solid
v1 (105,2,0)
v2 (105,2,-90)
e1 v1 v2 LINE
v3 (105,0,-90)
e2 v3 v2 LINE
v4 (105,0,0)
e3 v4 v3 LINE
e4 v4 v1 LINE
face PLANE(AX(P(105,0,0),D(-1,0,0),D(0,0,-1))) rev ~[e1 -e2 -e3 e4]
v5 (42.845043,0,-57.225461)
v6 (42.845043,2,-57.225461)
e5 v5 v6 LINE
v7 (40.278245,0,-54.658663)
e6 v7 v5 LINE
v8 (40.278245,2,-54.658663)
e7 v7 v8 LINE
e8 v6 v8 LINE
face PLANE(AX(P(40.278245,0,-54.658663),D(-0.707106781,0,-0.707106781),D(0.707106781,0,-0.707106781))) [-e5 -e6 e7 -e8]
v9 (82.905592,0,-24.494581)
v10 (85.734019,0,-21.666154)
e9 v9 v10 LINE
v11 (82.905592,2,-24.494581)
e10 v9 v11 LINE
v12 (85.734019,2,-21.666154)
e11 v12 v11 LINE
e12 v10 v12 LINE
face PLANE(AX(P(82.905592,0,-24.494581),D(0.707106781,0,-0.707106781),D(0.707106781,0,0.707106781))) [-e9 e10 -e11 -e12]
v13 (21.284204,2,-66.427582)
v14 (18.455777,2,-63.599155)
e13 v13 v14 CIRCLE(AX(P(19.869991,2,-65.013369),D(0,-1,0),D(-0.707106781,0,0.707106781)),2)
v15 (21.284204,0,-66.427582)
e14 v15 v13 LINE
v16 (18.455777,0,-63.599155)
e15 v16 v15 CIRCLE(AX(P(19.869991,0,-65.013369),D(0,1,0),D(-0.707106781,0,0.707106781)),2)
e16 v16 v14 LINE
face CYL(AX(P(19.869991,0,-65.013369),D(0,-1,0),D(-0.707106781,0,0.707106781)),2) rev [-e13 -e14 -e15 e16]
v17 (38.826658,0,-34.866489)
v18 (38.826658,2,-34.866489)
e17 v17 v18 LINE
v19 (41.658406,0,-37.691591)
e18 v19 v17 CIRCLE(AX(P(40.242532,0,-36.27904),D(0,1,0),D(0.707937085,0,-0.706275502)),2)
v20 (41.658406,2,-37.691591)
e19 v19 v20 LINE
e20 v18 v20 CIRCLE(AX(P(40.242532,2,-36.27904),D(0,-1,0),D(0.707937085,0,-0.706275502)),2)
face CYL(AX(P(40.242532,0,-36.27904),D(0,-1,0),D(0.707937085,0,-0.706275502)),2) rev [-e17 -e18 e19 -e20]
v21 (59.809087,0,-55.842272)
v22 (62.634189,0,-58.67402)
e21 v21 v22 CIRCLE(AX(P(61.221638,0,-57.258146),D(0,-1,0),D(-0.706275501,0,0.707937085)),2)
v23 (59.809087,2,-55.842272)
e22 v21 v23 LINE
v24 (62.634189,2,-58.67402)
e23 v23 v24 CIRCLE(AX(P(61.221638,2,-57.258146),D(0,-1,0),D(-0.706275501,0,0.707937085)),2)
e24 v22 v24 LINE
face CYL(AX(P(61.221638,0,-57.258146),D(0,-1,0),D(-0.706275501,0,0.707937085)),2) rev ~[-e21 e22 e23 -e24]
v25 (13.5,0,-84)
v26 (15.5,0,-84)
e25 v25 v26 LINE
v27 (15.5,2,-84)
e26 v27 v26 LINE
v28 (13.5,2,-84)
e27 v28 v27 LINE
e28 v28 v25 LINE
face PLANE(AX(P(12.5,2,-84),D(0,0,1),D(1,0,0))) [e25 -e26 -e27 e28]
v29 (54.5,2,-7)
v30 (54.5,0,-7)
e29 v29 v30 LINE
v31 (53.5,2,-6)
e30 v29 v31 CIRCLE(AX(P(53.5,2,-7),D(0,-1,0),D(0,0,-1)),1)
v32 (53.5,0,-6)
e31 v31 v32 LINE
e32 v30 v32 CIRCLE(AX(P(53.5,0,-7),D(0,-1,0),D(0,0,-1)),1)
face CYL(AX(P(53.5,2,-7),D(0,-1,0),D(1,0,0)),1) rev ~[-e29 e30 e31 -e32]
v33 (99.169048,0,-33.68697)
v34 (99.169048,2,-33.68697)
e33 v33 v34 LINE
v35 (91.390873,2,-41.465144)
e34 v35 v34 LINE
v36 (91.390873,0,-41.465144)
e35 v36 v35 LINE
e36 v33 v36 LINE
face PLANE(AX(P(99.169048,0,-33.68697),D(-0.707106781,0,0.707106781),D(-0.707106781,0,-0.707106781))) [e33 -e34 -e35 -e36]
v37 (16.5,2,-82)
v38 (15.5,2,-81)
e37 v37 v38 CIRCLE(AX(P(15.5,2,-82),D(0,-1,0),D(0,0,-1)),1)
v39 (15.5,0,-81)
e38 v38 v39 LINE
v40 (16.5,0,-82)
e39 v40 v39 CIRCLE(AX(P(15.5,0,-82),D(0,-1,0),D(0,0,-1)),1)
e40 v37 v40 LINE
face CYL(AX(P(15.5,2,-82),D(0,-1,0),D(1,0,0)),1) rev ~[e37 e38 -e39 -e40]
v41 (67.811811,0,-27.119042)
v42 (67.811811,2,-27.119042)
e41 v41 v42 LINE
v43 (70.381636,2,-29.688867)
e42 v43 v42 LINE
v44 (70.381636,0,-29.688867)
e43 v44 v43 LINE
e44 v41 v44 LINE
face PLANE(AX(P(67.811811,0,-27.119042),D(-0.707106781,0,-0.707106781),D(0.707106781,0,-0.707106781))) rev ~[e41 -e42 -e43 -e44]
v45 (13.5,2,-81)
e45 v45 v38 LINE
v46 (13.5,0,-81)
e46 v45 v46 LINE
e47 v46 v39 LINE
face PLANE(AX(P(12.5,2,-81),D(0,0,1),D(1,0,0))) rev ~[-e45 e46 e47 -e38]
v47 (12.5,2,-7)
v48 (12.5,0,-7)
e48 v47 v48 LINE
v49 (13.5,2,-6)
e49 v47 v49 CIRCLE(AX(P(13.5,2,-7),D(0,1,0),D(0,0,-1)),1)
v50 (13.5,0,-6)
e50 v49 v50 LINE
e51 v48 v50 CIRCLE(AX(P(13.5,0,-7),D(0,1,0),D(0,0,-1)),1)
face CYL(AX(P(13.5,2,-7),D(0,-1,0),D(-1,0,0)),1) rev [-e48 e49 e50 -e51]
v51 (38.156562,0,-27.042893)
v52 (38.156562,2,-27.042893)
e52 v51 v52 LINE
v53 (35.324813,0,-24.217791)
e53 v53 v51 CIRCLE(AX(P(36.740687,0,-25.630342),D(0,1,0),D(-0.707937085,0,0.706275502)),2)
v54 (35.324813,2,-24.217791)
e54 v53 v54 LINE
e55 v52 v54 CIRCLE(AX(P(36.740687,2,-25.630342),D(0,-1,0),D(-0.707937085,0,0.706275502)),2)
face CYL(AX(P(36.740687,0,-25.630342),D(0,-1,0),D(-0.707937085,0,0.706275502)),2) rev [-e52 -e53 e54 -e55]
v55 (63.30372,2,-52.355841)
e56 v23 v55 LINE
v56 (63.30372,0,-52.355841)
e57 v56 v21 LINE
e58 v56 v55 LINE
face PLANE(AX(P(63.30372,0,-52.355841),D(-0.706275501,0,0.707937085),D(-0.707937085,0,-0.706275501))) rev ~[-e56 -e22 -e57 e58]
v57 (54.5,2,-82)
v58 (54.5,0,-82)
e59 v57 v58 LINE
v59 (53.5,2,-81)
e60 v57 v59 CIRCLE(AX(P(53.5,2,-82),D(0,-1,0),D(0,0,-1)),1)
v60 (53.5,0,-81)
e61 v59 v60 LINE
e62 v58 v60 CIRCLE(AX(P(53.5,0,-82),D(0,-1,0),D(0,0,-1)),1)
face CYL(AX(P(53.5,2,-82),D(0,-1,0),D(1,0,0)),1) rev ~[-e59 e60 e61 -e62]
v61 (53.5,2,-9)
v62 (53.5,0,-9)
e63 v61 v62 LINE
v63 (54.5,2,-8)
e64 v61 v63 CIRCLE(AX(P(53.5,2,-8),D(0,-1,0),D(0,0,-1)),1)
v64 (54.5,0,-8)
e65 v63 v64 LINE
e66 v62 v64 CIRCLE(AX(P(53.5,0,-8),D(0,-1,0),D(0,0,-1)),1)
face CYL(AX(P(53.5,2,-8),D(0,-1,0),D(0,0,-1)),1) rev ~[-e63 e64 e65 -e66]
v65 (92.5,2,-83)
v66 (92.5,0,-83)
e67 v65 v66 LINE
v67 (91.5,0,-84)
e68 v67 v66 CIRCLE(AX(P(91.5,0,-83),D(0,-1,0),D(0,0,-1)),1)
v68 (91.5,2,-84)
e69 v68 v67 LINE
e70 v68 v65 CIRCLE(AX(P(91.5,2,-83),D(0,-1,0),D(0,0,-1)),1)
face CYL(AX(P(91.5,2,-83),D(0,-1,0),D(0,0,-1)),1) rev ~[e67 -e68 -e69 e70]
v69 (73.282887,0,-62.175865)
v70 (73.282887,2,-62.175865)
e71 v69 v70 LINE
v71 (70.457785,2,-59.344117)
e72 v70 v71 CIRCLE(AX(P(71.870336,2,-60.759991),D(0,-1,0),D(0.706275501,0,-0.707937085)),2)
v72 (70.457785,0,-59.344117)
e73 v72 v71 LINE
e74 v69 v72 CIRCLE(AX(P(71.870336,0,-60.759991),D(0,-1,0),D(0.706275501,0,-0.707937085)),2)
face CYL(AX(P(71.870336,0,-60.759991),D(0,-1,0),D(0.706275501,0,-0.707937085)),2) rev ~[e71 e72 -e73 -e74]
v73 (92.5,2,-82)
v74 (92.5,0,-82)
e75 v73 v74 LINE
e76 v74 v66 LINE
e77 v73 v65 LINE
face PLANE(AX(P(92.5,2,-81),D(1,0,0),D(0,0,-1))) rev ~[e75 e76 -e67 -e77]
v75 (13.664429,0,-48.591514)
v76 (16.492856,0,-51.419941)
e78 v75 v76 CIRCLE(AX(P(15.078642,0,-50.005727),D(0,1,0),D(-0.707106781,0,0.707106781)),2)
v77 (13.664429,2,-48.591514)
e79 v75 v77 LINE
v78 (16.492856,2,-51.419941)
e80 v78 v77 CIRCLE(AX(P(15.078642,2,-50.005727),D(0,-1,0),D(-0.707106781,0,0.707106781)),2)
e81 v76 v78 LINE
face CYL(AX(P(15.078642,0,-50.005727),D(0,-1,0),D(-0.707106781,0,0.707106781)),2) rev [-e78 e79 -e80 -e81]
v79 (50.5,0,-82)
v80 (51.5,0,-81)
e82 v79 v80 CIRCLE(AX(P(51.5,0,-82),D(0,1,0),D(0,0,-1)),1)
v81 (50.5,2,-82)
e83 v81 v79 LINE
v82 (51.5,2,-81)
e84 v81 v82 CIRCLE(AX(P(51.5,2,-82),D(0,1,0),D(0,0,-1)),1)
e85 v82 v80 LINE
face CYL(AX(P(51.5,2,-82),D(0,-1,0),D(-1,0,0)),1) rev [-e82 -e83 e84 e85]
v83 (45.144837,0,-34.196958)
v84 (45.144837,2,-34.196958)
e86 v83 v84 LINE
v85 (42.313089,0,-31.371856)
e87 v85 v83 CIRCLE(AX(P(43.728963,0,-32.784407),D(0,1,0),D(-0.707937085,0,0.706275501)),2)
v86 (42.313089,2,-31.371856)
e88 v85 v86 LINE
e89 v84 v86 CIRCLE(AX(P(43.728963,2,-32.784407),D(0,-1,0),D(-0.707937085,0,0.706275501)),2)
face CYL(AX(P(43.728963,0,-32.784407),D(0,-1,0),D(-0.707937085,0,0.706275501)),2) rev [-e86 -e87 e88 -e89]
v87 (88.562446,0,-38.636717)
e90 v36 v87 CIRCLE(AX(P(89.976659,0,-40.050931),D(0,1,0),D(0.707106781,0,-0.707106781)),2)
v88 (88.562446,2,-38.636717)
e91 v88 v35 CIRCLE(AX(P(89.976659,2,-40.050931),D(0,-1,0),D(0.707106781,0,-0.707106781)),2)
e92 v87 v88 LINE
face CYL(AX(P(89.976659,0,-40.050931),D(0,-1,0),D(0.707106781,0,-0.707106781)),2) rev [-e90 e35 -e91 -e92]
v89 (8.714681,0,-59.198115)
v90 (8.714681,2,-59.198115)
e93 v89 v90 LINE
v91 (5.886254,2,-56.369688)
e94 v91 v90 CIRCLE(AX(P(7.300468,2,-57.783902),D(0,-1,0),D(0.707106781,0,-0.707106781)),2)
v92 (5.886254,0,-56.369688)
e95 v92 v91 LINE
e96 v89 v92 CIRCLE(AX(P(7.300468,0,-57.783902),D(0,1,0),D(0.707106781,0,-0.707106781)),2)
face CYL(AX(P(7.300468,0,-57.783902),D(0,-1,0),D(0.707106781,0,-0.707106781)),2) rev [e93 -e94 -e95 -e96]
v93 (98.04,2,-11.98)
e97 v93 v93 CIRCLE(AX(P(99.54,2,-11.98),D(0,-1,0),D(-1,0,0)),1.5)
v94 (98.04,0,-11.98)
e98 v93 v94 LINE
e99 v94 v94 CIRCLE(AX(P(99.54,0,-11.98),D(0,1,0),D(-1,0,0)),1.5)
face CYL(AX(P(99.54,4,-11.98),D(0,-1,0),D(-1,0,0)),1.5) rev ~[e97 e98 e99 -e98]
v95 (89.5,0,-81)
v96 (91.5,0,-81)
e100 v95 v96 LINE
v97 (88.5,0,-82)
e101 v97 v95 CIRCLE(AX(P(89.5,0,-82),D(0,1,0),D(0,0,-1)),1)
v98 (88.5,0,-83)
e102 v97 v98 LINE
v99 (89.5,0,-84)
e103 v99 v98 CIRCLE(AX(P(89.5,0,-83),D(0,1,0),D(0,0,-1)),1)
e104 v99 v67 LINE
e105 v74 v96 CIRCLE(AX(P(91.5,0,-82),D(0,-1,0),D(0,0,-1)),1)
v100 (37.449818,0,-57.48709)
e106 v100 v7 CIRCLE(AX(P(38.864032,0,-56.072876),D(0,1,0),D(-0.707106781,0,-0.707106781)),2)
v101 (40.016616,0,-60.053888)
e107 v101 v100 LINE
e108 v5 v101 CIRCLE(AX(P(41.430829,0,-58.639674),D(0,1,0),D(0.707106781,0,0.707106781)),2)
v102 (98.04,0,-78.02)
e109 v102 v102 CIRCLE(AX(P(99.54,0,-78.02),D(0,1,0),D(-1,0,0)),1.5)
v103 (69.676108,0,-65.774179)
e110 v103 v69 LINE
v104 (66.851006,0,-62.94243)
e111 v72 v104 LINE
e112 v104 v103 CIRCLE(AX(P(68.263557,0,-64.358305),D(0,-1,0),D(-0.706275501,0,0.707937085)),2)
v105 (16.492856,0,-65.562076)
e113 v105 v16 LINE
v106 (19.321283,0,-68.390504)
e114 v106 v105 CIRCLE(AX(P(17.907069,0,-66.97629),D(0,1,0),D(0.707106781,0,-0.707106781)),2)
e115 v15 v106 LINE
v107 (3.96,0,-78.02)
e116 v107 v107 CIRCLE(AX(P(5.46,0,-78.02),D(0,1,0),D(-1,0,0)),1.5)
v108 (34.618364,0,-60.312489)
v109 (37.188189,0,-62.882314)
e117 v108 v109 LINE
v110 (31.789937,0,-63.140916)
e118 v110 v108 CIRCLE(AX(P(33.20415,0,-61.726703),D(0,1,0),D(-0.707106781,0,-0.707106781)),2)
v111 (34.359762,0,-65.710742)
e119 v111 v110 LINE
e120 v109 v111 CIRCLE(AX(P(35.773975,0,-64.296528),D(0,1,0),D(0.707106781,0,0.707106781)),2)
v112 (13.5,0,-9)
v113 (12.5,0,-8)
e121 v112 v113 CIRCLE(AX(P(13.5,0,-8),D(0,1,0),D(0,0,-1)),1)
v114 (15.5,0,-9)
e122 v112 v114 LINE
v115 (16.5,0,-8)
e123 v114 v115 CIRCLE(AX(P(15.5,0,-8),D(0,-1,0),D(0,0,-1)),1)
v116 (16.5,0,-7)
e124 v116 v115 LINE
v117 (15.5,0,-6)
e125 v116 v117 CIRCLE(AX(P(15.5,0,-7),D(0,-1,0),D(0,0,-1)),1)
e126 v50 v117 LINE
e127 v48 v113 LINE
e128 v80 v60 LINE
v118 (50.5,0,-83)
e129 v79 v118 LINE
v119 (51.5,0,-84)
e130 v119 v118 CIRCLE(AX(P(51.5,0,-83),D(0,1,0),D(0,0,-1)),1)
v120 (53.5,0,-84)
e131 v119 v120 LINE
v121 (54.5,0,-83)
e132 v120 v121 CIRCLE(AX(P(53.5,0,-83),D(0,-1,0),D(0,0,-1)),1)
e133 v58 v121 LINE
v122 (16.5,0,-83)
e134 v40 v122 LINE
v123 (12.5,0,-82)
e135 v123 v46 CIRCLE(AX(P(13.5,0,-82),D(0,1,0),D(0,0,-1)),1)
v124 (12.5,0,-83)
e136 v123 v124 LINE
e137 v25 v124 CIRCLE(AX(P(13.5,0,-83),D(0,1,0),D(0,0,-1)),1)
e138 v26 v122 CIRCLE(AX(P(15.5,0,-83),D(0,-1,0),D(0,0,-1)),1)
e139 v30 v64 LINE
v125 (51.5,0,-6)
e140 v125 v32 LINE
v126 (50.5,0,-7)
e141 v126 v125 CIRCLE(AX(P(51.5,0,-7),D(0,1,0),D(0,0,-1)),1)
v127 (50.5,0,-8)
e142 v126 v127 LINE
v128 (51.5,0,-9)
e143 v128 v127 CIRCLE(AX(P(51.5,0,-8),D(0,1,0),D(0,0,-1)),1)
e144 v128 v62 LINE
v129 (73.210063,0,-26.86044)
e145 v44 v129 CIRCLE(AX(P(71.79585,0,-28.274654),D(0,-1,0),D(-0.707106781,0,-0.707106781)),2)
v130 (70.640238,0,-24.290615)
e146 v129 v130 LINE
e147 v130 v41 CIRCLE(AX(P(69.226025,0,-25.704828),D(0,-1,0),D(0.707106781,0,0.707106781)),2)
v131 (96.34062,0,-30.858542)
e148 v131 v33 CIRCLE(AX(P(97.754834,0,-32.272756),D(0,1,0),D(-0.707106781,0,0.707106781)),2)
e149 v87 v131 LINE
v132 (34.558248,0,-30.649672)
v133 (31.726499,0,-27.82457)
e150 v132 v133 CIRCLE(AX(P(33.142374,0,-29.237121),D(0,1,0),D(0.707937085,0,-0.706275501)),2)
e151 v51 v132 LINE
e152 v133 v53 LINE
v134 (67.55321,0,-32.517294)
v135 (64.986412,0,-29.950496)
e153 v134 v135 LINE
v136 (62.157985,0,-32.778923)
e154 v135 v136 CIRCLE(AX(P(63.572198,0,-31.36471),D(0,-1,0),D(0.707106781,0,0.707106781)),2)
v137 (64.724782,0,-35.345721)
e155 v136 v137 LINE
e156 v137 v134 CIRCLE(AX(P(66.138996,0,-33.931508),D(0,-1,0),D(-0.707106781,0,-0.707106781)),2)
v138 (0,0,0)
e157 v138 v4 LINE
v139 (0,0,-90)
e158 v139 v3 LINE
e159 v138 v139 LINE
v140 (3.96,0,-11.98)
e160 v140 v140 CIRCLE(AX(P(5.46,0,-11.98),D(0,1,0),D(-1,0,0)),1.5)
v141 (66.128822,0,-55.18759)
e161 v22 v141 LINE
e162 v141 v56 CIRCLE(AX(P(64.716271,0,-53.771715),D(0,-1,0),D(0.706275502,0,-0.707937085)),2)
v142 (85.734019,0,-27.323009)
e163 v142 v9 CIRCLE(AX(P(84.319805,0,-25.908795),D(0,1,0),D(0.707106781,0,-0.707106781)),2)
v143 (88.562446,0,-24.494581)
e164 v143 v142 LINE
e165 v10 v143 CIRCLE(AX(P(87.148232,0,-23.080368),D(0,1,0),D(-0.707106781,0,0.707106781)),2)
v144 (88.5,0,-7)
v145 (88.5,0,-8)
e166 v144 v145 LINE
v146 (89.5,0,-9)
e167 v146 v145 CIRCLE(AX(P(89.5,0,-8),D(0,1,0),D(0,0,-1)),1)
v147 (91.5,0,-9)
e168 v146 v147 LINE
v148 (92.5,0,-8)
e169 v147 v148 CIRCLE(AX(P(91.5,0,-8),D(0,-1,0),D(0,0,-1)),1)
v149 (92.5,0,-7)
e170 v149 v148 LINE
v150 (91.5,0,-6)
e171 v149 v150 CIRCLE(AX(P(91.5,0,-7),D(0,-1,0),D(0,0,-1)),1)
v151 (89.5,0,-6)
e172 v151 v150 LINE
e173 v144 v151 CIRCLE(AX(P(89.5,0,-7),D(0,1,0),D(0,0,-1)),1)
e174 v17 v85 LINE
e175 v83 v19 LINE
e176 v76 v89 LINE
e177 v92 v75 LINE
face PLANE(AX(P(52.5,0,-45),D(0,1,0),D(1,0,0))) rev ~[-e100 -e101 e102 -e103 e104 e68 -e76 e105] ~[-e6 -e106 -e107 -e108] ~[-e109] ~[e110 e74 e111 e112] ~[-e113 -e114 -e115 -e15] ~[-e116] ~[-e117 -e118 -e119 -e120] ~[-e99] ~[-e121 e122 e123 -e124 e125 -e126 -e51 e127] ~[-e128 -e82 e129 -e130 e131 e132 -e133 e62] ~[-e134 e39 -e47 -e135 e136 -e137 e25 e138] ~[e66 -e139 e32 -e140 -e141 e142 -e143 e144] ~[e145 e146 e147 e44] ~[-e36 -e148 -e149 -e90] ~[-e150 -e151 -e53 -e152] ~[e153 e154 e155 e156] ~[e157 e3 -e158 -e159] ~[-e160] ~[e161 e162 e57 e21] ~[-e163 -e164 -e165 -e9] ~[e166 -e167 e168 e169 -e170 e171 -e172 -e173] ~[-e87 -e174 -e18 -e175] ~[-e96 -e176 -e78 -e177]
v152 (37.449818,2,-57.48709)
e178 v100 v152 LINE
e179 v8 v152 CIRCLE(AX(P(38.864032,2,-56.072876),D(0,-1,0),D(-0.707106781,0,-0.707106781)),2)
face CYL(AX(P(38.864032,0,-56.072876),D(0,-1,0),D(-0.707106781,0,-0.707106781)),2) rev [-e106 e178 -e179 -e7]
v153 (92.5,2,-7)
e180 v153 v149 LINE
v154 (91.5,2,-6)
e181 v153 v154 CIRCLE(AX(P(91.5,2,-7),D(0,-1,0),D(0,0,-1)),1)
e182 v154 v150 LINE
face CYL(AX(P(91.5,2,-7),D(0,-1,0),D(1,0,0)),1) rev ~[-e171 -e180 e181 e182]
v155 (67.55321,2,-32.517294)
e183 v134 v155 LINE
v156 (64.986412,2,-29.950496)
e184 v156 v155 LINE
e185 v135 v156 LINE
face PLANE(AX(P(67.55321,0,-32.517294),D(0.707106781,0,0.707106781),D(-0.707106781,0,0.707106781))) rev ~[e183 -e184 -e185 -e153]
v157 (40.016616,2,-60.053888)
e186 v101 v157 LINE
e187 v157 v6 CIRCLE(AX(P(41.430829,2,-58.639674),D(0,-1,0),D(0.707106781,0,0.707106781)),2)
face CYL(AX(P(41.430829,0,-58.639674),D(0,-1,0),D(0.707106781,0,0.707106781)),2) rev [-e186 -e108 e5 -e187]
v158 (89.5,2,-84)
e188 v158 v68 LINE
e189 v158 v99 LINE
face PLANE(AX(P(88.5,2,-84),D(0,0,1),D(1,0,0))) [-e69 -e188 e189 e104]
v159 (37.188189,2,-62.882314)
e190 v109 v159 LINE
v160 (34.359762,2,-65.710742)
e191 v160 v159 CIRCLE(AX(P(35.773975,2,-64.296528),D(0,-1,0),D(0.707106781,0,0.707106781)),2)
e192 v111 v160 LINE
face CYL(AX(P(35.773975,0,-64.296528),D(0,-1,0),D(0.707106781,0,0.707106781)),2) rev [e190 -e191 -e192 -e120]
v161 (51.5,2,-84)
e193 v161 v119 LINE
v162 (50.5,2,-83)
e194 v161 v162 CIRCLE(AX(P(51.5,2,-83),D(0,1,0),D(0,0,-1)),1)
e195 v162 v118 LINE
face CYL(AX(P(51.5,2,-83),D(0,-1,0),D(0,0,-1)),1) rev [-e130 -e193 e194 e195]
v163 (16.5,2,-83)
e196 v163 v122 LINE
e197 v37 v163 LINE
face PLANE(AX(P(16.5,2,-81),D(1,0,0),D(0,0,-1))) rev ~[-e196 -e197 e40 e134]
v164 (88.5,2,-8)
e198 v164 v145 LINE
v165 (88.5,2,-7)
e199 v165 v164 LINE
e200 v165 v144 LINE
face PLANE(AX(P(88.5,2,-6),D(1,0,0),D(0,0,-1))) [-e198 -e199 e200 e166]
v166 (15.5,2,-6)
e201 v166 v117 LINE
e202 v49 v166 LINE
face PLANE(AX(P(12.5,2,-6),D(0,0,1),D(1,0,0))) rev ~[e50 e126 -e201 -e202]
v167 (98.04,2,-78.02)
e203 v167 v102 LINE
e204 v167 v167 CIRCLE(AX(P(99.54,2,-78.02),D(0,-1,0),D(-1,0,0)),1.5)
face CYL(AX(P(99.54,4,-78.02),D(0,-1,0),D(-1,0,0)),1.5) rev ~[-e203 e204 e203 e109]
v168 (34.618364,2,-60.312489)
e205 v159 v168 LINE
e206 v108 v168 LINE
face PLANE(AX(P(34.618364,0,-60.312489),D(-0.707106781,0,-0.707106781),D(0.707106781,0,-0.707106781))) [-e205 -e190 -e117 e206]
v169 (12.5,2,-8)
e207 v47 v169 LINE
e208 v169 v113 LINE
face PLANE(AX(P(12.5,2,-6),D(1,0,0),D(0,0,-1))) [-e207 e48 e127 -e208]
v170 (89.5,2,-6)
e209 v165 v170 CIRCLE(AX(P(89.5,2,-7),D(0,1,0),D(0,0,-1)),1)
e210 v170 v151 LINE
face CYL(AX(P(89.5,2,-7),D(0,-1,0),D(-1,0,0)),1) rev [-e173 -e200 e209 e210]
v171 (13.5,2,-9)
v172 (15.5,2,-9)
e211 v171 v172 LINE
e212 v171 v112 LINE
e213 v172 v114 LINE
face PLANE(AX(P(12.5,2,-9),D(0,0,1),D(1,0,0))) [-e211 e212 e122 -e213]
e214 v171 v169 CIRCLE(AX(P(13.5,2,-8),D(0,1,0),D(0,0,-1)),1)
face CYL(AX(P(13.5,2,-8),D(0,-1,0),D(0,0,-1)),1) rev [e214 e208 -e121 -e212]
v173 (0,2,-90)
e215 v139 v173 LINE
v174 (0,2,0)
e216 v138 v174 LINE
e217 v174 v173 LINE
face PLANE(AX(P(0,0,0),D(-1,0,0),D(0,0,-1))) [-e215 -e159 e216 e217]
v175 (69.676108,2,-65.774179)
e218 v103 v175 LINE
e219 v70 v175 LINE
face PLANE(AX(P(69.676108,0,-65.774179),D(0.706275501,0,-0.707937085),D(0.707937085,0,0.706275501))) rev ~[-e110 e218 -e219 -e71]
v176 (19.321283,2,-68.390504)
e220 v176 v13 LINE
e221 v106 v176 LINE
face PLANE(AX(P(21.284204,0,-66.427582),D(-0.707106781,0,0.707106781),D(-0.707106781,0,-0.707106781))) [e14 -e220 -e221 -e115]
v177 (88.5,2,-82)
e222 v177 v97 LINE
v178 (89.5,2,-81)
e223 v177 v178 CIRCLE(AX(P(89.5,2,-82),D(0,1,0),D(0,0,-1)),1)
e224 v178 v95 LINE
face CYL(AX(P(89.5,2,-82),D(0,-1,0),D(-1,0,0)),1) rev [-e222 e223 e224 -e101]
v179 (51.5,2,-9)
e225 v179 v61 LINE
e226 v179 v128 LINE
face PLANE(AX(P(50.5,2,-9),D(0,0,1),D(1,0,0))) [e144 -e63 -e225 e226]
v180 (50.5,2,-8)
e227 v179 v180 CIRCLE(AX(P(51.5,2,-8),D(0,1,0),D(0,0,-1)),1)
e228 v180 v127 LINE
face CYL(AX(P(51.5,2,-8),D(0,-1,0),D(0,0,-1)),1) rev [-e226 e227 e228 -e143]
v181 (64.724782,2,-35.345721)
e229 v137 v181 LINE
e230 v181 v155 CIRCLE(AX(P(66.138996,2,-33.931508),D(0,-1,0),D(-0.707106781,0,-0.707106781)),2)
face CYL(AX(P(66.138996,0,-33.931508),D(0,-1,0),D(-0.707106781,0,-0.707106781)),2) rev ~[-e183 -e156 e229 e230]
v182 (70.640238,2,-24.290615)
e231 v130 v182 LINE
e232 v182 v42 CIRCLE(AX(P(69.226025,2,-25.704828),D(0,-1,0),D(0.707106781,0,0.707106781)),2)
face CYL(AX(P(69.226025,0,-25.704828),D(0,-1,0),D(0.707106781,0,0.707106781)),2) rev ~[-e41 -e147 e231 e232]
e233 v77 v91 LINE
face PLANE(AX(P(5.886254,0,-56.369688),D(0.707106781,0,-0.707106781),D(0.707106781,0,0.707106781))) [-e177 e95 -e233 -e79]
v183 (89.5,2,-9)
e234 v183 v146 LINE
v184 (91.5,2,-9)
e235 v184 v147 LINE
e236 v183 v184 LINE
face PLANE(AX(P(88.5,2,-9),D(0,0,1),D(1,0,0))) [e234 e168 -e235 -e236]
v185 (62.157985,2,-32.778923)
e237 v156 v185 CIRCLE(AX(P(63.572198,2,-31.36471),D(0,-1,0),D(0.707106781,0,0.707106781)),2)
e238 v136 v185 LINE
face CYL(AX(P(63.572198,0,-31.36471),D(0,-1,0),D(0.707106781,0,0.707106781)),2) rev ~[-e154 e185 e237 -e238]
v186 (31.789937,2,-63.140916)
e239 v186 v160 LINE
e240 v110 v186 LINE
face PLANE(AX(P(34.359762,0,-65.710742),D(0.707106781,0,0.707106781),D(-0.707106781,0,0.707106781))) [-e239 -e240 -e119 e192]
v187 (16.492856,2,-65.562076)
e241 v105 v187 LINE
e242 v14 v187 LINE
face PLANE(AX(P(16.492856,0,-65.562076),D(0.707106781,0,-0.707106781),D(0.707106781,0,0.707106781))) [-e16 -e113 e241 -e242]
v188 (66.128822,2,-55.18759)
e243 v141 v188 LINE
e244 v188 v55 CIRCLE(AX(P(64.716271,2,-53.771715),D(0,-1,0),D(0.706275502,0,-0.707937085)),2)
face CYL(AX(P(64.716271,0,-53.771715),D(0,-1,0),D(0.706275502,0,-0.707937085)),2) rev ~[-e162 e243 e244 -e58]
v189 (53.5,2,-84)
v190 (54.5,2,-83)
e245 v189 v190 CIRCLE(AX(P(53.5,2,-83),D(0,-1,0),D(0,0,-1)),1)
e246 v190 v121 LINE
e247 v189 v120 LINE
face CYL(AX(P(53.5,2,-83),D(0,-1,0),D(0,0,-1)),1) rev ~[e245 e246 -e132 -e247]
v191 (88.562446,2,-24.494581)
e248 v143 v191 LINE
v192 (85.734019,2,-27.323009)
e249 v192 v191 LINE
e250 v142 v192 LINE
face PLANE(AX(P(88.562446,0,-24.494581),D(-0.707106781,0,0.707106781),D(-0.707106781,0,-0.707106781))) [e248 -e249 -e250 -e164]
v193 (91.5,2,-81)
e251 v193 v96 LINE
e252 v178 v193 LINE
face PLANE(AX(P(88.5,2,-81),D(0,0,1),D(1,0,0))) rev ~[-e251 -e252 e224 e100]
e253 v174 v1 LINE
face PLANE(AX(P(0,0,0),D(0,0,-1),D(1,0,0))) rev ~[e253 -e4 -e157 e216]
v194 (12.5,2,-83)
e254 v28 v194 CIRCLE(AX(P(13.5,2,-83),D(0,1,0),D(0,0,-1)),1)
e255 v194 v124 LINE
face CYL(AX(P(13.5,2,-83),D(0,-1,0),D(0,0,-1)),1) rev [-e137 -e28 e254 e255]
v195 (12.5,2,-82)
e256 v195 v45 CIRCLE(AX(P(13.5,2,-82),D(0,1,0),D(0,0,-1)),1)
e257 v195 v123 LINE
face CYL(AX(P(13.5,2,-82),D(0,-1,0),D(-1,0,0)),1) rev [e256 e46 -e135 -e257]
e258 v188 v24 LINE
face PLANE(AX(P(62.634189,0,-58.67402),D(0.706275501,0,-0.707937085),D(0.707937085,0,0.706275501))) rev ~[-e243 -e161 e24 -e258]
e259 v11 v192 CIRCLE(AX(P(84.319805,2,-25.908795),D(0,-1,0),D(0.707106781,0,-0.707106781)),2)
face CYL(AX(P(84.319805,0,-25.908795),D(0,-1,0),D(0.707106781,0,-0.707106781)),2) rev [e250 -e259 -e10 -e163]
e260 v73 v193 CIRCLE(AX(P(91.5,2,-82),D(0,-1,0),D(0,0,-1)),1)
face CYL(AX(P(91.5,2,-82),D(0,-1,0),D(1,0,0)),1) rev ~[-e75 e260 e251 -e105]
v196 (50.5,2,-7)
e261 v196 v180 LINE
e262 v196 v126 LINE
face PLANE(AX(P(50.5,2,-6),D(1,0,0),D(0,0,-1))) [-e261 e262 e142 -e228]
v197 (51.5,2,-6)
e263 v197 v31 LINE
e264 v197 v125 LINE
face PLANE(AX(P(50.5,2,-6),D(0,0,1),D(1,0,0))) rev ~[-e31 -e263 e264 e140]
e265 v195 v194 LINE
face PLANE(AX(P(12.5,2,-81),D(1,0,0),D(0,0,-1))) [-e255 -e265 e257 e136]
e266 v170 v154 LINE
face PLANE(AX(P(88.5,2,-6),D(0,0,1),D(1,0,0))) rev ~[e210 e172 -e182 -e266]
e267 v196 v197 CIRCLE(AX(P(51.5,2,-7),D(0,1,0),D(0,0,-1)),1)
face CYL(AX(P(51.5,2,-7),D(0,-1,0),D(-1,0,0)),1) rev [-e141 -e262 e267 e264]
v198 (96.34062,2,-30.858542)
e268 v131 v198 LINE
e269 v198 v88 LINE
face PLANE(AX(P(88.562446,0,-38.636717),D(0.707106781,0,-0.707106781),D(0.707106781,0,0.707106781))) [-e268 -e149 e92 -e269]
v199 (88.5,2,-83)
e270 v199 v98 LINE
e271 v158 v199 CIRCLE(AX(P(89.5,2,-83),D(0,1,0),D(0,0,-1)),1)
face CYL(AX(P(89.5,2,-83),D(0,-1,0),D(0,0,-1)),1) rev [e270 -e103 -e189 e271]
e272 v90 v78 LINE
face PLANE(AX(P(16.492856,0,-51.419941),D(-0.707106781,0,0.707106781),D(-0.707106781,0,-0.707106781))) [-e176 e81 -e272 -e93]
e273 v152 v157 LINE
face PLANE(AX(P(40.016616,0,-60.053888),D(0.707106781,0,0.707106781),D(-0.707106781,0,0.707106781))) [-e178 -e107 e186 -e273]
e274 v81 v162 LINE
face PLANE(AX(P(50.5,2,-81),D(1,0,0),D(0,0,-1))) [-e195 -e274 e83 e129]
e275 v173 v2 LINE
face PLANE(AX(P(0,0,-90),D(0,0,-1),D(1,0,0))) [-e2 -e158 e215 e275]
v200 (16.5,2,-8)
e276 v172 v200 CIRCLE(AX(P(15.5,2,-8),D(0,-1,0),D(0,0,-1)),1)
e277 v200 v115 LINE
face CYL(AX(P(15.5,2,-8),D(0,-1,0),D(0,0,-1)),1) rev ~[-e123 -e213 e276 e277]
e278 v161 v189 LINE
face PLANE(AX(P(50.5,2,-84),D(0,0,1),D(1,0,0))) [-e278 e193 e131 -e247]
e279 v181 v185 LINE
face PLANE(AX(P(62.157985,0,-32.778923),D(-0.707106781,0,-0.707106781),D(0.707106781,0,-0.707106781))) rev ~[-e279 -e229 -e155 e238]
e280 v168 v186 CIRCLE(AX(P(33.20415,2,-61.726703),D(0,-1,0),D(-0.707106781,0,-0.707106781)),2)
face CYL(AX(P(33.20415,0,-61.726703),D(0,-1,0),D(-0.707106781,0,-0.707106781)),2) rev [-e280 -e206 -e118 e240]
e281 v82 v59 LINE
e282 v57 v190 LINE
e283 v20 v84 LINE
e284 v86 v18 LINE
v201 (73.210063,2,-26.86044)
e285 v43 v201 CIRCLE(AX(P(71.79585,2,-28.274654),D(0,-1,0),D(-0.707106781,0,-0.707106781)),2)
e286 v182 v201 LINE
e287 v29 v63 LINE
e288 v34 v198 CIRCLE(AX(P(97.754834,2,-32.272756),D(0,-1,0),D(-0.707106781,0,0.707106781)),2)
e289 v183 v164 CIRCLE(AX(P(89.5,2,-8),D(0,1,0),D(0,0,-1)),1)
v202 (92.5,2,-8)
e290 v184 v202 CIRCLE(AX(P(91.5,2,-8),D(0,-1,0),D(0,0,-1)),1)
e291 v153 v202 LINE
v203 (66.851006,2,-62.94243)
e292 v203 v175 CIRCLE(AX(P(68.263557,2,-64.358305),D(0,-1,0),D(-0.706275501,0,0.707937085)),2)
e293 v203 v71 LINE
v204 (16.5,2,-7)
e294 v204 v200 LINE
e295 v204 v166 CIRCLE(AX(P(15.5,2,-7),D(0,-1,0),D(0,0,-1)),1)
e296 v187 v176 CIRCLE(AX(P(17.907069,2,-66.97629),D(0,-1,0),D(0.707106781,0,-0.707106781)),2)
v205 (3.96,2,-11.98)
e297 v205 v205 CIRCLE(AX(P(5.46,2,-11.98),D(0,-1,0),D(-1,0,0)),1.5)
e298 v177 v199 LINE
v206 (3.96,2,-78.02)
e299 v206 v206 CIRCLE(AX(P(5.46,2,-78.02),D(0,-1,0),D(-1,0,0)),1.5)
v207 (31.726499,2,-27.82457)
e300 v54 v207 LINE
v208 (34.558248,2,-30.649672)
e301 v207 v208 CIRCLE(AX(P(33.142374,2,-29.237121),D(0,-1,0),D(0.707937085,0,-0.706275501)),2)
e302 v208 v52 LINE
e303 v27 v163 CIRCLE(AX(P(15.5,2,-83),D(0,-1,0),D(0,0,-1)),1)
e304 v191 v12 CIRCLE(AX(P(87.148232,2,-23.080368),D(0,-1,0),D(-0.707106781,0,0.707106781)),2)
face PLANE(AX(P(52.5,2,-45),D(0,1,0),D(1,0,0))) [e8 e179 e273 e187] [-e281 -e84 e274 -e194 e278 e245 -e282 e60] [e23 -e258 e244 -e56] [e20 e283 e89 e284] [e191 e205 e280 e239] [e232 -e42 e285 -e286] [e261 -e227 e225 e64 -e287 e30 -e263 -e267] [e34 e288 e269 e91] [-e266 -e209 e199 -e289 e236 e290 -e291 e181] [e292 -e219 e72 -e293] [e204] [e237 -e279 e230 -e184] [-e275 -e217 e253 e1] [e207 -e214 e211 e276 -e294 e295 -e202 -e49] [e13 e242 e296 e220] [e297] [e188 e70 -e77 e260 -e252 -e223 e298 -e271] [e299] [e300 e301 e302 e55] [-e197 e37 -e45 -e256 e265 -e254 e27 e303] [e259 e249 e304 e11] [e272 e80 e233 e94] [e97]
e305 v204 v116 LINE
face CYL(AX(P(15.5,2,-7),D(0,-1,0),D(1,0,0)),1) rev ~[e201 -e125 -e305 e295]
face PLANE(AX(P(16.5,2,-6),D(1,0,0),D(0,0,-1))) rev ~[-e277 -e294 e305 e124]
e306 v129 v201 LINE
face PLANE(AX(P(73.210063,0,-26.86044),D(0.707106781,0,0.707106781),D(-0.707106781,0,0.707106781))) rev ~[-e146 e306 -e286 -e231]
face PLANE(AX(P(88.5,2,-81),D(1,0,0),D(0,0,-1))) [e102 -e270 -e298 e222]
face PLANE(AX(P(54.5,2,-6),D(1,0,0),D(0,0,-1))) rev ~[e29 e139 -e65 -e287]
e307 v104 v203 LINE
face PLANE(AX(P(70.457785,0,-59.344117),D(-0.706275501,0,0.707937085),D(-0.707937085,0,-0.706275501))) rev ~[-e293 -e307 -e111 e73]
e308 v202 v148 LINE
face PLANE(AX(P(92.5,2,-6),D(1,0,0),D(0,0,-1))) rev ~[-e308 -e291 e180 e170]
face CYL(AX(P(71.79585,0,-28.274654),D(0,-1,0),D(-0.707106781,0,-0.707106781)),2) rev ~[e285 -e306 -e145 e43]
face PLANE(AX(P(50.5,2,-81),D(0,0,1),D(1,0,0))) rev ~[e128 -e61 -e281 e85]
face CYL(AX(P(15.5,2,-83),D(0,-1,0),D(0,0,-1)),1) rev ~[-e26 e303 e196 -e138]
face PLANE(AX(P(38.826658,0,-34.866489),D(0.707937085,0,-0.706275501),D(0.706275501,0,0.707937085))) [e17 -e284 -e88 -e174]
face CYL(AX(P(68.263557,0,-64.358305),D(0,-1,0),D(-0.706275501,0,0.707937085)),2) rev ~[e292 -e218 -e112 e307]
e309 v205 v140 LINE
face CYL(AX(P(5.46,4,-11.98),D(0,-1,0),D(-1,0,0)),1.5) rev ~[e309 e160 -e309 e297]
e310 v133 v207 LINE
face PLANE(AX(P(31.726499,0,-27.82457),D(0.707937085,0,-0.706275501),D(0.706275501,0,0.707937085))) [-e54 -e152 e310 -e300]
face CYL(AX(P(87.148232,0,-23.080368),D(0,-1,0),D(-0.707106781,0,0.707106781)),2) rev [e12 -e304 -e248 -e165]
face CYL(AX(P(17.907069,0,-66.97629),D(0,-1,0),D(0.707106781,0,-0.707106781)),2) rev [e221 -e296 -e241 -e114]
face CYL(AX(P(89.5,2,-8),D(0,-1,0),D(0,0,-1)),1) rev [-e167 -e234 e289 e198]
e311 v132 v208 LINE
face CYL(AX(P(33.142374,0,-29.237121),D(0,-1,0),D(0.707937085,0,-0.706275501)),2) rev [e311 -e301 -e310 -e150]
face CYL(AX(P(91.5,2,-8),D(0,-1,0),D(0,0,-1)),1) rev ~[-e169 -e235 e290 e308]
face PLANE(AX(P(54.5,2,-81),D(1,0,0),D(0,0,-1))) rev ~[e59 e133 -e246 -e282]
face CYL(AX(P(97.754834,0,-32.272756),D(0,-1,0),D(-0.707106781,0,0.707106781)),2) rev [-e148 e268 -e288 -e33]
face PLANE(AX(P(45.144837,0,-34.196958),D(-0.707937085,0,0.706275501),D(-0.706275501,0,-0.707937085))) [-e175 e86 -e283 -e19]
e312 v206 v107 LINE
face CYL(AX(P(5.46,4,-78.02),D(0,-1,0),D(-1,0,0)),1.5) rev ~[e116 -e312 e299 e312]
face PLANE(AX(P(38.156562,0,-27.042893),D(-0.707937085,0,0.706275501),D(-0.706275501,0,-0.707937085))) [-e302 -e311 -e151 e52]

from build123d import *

# Parameters (mm, degrees)
SKETCH1_W                = 105
SKETCH1_H                = 90
BOSS_EXTRUDE1_DEPTH      = 2
M3_CLEARANCE_HOLE1_D     = 3
M3_CLEARANCE_HOLE1_DEPTH = 2
M3_CLEARANCE_HOLE1_TIP   = 0.901290929
SKETCH4_W                = 4
SKETCH4_H                = 3
CUT_EXTRUDE1_DEPTH       = 139.307628134
FILLET1_R                = 1
FILLET2_R                = 1
FILLET3_R                = 1
FILLET4_R                = 1
LPATTERN1_COUNT          = 2
LPATTERN1_PITCH          = 75
LPATTERN1_COUNT_DIR2     = 3
LPATTERN1_PITCH_DIR2     = 38
FILLET1_OF_LPATTERN1_R   = 1
FILLET2_OF_LPATTERN1_R   = 1
FILLET3_OF_LPATTERN1_R   = 1
FILLET4_OF_LPATTERN1_R   = 1
CUT_EXTRUDE2_DEPTH       = 139.307628134


with BuildPart() as part:
    # Sketch1 → Boss-Extrude1 (new body)
    with BuildSketch(Plane(origin=(0, 0, 0), x_dir=(1, 0, 0), z_dir=(0, 1, 0))):
        with Locations((52.5, 45)):
            Rectangle(SKETCH1_W, SKETCH1_H)
    extrude(amount=BOSS_EXTRUDE1_DEPTH)

    # M3 Clearance Hole1
    with Locations(Plane(origin=(0, 2, 0), x_dir=(1, 0, 0), z_dir=(0, 1, 0))):
        with Locations((5.46, 11.98), (5.46, 78.02), (99.54, 78.02), (99.54, 11.98)):
            Hole(M3_CLEARANCE_HOLE1_D / 2, depth=M3_CLEARANCE_HOLE1_DEPTH)
            with Locations((0, 0, -(M3_CLEARANCE_HOLE1_DEPTH + M3_CLEARANCE_HOLE1_TIP / 2))):  # 118° drill point
                Cone(0, M3_CLEARANCE_HOLE1_D / 2, M3_CLEARANCE_HOLE1_TIP, mode=Mode.SUBTRACT)

    # Sketch4 → Cut-Extrude1 (cut, through all)
    with BuildSketch(Plane(origin=(0, 2, 0), x_dir=(1, 0, 0), z_dir=(0, 1, 0))):
        with Locations((14.5, 82.5)):
            Rectangle(SKETCH4_W, SKETCH4_H)
    cut_extrude1 = extrude(amount=-CUT_EXTRUDE1_DEPTH, mode=Mode.SUBTRACT)

    # Fillet1
    fillet1_edges = [part.edges().sort_by_distance(p)[0] for p in [
        (12.5, 1, -84),
    ]]
    fillet(fillet1_edges, radius=FILLET1_R)

    # Fillet2
    fillet2_edges = [part.edges().sort_by_distance(p)[0] for p in [
        (12.5, 1, -81),
    ]]
    fillet(fillet2_edges, radius=FILLET2_R)

    # Fillet3
    fillet3_edges = [part.edges().sort_by_distance(p)[0] for p in [
        (16.5, 1, -84),
    ]]
    fillet(fillet3_edges, radius=FILLET3_R)

    # Fillet4
    fillet4_edges = [part.edges().sort_by_distance(p)[0] for p in [
        (16.5, 1, -81),
    ]]
    fillet(fillet4_edges, radius=FILLET4_R)

    # LPattern1: Cut-Extrude1 2 × 3
    with Locations(*[(j * LPATTERN1_PITCH_DIR2, 0, i * LPATTERN1_PITCH) for i in range(LPATTERN1_COUNT) for j in range(LPATTERN1_COUNT_DIR2) if (i, j) != (0, 0)]):
        add(cut_extrude1, mode=Mode.SUBTRACT)

    # Fillet1 of LPattern1
    fillet1_of_lpattern1_edges = [part.edges().sort_by_distance(p)[0] for p in [
        (50.5, 1, -84),
        (88.5, 1, -84),
        (12.5, 1, -9),
        (50.5, 1, -9),
        (88.5, 1, -9),
    ]]
    fillet(fillet1_of_lpattern1_edges, radius=FILLET1_OF_LPATTERN1_R)

    # Fillet2 of LPattern1
    fillet2_of_lpattern1_edges = [part.edges().sort_by_distance(p)[0] for p in [
        (50.5, 1, -81),
        (88.5, 1, -81),
        (12.5, 1, -6),
        (50.5, 1, -6),
        (88.5, 1, -6),
    ]]
    fillet(fillet2_of_lpattern1_edges, radius=FILLET2_OF_LPATTERN1_R)

    # Fillet3 of LPattern1
    fillet3_of_lpattern1_edges = [part.edges().sort_by_distance(p)[0] for p in [
        (54.5, 1, -84),
        (92.5, 1, -84),
        (16.5, 1, -9),
        (54.5, 1, -9),
        (92.5, 1, -9),
    ]]
    fillet(fillet3_of_lpattern1_edges, radius=FILLET3_OF_LPATTERN1_R)

    # Fillet4 of LPattern1
    fillet4_of_lpattern1_edges = [part.edges().sort_by_distance(p)[0] for p in [
        (54.5, 1, -81),
        (92.5, 1, -81),
        (16.5, 1, -6),
        (54.5, 1, -6),
        (92.5, 1, -6),
    ]]
    fillet(fillet4_of_lpattern1_edges, radius=FILLET4_OF_LPATTERN1_R)

    # Sketch6 → Cut-Extrude2 (cut, through all)
    with BuildSketch(Plane.XZ):
        with BuildLine():
            Line((31.726499367, -27.824570361), (35.324813273, -24.217791062))
            ThreePointArc((35.324813273, -24.217791062), (38.153238445, -24.214467895), (38.156561613, -27.042893068))
            Line((38.156561613, -27.042893068), (34.558247707, -30.649672366))
            ThreePointArc((34.558247707, -30.649672366), (31.729822534, -30.652995533), (31.726499367, -27.824570361))
        make_face()
        with BuildLine():
            Line((45.144836896, -34.196957958), (41.658406286, -37.691590744))
            ThreePointArc((41.658406286, -37.691590744), (38.829981114, -37.694913911), (38.826657946, -34.866488738))
            Line((38.826657946, -34.866488738), (42.313088556, -31.371855953))
            ThreePointArc((42.313088556, -31.371855953), (45.141513729, -31.368532786), (45.144836896, -34.196957958))
        make_face()
        with BuildLine():
            Line((69.676107758, -65.774178752), (73.282887056, -62.175864846))
            ThreePointArc((73.282887056, -62.175864846), (73.286210223, -59.347439673), (70.457785051, -59.344116506))
            Line((70.457785051, -59.344116506), (66.851005753, -62.942430412))
            ThreePointArc((66.851005753, -62.942430412), (66.847682586, -65.770855585), (69.676107758, -65.774178752))
        make_face()
        with BuildLine():
            Line((63.30372016, -52.355841223), (59.809087375, -55.842271833))
            ThreePointArc((59.809087375, -55.842271833), (59.805764208, -58.670697005), (62.63418938, -58.674020172))
            Line((62.63418938, -58.674020172), (66.128822166, -55.187589562))
            ThreePointArc((66.128822166, -55.187589562), (66.132145333, -52.35916439), (63.30372016, -52.355841223))
        make_face()
        with BuildLine():
            Line((99.169047558, -33.68696962), (91.390872965, -41.465144213))
            ThreePointArc((91.390872965, -41.465144213), (88.562445841, -41.465144213), (88.562445841, -38.636717088))
            Line((88.562445841, -38.636717088), (96.340620434, -30.858542495))
            ThreePointArc((96.340620434, -30.858542495), (99.169047558, -30.858542495), (99.169047558, -33.68696962))
        make_face()
        with BuildLine():
            Line((16.492855818, -51.419940807), (8.714681224, -59.1981154))
            ThreePointArc((8.714681224, -59.1981154), (5.8862541, -59.1981154), (5.8862541, -56.369688276))
            Line((5.8862541, -56.369688276), (13.664428693, -48.591513683))
            ThreePointArc((13.664428693, -48.591513683), (16.492855818, -48.591513683), (16.492855818, -51.419940807))
        make_face()
        with BuildLine():
            Line((16.492855818, -65.562076431), (18.455777203, -63.599155046))
            ThreePointArc((18.455777203, -63.599155046), (21.284204328, -63.599155046), (21.284204328, -66.42758217))
            Line((21.284204328, -66.42758217), (19.321282942, -68.390503556))
            ThreePointArc((19.321282942, -68.390503556), (16.492855818, -68.390503556), (16.492855818, -65.562076431))
        make_face()
        with BuildLine():
            Line((88.562445841, -24.494581464), (85.734018716, -27.323008589))
            ThreePointArc((85.734018716, -27.323008589), (82.905591591, -27.323008589), (82.905591591, -24.494581464))
            Line((82.905591591, -24.494581464), (85.734018716, -21.666154339))
            ThreePointArc((85.734018716, -21.666154339), (88.562445841, -21.666154339), (88.562445841, -24.494581464))
        make_face()
        with BuildLine():
            Line((34.618363651, -60.312489091), (37.188189027, -62.882314467))
            ThreePointArc((37.188189027, -62.882314467), (37.188189027, -65.710741592), (34.359761903, -65.710741592))
            Line((34.359761903, -65.710741592), (31.789936526, -63.140916216))
            ThreePointArc((31.789936526, -63.140916216), (31.789936526, -60.312489091), (34.618363651, -60.312489091))
        make_face()
        with BuildLine():
            Line((67.811810973, -27.11904177), (70.381636349, -29.688867146))
            ThreePointArc((70.381636349, -29.688867146), (73.210063474, -29.688867146), (73.210063474, -26.860440021))
            Line((73.210063474, -26.860440021), (70.640238097, -24.290614645))
            ThreePointArc((70.640238097, -24.290614645), (67.811810973, -24.290614645), (67.811810973, -27.11904177))
        make_face()
        with BuildLine():
            Line((40.278245356, -54.658662907), (42.845042972, -57.225460523))
            ThreePointArc((42.845042972, -57.225460523), (42.845042972, -60.053887648), (40.016615847, -60.053887648))
            Line((40.016615847, -60.053887648), (37.449818231, -57.487090032))
            ThreePointArc((37.449818231, -57.487090032), (37.449818231, -54.658662907), (40.278245356, -54.658662907))
        make_face()
        with BuildLine():
            Line((62.157984789, -32.778923475), (64.724782404, -35.345721091))
            ThreePointArc((64.724782404, -35.345721091), (67.553209529, -35.345721091), (67.553209529, -32.517293966))
            Line((67.553209529, -32.517293966), (64.986411913, -29.95049635))
            ThreePointArc((64.986411913, -29.95049635), (62.157984789, -29.95049635), (62.157984789, -32.778923475))
        make_face()
    extrude(amount=-CUT_EXTRUDE2_DEPTH, mode=Mode.SUBTRACT)


solid = part.part
